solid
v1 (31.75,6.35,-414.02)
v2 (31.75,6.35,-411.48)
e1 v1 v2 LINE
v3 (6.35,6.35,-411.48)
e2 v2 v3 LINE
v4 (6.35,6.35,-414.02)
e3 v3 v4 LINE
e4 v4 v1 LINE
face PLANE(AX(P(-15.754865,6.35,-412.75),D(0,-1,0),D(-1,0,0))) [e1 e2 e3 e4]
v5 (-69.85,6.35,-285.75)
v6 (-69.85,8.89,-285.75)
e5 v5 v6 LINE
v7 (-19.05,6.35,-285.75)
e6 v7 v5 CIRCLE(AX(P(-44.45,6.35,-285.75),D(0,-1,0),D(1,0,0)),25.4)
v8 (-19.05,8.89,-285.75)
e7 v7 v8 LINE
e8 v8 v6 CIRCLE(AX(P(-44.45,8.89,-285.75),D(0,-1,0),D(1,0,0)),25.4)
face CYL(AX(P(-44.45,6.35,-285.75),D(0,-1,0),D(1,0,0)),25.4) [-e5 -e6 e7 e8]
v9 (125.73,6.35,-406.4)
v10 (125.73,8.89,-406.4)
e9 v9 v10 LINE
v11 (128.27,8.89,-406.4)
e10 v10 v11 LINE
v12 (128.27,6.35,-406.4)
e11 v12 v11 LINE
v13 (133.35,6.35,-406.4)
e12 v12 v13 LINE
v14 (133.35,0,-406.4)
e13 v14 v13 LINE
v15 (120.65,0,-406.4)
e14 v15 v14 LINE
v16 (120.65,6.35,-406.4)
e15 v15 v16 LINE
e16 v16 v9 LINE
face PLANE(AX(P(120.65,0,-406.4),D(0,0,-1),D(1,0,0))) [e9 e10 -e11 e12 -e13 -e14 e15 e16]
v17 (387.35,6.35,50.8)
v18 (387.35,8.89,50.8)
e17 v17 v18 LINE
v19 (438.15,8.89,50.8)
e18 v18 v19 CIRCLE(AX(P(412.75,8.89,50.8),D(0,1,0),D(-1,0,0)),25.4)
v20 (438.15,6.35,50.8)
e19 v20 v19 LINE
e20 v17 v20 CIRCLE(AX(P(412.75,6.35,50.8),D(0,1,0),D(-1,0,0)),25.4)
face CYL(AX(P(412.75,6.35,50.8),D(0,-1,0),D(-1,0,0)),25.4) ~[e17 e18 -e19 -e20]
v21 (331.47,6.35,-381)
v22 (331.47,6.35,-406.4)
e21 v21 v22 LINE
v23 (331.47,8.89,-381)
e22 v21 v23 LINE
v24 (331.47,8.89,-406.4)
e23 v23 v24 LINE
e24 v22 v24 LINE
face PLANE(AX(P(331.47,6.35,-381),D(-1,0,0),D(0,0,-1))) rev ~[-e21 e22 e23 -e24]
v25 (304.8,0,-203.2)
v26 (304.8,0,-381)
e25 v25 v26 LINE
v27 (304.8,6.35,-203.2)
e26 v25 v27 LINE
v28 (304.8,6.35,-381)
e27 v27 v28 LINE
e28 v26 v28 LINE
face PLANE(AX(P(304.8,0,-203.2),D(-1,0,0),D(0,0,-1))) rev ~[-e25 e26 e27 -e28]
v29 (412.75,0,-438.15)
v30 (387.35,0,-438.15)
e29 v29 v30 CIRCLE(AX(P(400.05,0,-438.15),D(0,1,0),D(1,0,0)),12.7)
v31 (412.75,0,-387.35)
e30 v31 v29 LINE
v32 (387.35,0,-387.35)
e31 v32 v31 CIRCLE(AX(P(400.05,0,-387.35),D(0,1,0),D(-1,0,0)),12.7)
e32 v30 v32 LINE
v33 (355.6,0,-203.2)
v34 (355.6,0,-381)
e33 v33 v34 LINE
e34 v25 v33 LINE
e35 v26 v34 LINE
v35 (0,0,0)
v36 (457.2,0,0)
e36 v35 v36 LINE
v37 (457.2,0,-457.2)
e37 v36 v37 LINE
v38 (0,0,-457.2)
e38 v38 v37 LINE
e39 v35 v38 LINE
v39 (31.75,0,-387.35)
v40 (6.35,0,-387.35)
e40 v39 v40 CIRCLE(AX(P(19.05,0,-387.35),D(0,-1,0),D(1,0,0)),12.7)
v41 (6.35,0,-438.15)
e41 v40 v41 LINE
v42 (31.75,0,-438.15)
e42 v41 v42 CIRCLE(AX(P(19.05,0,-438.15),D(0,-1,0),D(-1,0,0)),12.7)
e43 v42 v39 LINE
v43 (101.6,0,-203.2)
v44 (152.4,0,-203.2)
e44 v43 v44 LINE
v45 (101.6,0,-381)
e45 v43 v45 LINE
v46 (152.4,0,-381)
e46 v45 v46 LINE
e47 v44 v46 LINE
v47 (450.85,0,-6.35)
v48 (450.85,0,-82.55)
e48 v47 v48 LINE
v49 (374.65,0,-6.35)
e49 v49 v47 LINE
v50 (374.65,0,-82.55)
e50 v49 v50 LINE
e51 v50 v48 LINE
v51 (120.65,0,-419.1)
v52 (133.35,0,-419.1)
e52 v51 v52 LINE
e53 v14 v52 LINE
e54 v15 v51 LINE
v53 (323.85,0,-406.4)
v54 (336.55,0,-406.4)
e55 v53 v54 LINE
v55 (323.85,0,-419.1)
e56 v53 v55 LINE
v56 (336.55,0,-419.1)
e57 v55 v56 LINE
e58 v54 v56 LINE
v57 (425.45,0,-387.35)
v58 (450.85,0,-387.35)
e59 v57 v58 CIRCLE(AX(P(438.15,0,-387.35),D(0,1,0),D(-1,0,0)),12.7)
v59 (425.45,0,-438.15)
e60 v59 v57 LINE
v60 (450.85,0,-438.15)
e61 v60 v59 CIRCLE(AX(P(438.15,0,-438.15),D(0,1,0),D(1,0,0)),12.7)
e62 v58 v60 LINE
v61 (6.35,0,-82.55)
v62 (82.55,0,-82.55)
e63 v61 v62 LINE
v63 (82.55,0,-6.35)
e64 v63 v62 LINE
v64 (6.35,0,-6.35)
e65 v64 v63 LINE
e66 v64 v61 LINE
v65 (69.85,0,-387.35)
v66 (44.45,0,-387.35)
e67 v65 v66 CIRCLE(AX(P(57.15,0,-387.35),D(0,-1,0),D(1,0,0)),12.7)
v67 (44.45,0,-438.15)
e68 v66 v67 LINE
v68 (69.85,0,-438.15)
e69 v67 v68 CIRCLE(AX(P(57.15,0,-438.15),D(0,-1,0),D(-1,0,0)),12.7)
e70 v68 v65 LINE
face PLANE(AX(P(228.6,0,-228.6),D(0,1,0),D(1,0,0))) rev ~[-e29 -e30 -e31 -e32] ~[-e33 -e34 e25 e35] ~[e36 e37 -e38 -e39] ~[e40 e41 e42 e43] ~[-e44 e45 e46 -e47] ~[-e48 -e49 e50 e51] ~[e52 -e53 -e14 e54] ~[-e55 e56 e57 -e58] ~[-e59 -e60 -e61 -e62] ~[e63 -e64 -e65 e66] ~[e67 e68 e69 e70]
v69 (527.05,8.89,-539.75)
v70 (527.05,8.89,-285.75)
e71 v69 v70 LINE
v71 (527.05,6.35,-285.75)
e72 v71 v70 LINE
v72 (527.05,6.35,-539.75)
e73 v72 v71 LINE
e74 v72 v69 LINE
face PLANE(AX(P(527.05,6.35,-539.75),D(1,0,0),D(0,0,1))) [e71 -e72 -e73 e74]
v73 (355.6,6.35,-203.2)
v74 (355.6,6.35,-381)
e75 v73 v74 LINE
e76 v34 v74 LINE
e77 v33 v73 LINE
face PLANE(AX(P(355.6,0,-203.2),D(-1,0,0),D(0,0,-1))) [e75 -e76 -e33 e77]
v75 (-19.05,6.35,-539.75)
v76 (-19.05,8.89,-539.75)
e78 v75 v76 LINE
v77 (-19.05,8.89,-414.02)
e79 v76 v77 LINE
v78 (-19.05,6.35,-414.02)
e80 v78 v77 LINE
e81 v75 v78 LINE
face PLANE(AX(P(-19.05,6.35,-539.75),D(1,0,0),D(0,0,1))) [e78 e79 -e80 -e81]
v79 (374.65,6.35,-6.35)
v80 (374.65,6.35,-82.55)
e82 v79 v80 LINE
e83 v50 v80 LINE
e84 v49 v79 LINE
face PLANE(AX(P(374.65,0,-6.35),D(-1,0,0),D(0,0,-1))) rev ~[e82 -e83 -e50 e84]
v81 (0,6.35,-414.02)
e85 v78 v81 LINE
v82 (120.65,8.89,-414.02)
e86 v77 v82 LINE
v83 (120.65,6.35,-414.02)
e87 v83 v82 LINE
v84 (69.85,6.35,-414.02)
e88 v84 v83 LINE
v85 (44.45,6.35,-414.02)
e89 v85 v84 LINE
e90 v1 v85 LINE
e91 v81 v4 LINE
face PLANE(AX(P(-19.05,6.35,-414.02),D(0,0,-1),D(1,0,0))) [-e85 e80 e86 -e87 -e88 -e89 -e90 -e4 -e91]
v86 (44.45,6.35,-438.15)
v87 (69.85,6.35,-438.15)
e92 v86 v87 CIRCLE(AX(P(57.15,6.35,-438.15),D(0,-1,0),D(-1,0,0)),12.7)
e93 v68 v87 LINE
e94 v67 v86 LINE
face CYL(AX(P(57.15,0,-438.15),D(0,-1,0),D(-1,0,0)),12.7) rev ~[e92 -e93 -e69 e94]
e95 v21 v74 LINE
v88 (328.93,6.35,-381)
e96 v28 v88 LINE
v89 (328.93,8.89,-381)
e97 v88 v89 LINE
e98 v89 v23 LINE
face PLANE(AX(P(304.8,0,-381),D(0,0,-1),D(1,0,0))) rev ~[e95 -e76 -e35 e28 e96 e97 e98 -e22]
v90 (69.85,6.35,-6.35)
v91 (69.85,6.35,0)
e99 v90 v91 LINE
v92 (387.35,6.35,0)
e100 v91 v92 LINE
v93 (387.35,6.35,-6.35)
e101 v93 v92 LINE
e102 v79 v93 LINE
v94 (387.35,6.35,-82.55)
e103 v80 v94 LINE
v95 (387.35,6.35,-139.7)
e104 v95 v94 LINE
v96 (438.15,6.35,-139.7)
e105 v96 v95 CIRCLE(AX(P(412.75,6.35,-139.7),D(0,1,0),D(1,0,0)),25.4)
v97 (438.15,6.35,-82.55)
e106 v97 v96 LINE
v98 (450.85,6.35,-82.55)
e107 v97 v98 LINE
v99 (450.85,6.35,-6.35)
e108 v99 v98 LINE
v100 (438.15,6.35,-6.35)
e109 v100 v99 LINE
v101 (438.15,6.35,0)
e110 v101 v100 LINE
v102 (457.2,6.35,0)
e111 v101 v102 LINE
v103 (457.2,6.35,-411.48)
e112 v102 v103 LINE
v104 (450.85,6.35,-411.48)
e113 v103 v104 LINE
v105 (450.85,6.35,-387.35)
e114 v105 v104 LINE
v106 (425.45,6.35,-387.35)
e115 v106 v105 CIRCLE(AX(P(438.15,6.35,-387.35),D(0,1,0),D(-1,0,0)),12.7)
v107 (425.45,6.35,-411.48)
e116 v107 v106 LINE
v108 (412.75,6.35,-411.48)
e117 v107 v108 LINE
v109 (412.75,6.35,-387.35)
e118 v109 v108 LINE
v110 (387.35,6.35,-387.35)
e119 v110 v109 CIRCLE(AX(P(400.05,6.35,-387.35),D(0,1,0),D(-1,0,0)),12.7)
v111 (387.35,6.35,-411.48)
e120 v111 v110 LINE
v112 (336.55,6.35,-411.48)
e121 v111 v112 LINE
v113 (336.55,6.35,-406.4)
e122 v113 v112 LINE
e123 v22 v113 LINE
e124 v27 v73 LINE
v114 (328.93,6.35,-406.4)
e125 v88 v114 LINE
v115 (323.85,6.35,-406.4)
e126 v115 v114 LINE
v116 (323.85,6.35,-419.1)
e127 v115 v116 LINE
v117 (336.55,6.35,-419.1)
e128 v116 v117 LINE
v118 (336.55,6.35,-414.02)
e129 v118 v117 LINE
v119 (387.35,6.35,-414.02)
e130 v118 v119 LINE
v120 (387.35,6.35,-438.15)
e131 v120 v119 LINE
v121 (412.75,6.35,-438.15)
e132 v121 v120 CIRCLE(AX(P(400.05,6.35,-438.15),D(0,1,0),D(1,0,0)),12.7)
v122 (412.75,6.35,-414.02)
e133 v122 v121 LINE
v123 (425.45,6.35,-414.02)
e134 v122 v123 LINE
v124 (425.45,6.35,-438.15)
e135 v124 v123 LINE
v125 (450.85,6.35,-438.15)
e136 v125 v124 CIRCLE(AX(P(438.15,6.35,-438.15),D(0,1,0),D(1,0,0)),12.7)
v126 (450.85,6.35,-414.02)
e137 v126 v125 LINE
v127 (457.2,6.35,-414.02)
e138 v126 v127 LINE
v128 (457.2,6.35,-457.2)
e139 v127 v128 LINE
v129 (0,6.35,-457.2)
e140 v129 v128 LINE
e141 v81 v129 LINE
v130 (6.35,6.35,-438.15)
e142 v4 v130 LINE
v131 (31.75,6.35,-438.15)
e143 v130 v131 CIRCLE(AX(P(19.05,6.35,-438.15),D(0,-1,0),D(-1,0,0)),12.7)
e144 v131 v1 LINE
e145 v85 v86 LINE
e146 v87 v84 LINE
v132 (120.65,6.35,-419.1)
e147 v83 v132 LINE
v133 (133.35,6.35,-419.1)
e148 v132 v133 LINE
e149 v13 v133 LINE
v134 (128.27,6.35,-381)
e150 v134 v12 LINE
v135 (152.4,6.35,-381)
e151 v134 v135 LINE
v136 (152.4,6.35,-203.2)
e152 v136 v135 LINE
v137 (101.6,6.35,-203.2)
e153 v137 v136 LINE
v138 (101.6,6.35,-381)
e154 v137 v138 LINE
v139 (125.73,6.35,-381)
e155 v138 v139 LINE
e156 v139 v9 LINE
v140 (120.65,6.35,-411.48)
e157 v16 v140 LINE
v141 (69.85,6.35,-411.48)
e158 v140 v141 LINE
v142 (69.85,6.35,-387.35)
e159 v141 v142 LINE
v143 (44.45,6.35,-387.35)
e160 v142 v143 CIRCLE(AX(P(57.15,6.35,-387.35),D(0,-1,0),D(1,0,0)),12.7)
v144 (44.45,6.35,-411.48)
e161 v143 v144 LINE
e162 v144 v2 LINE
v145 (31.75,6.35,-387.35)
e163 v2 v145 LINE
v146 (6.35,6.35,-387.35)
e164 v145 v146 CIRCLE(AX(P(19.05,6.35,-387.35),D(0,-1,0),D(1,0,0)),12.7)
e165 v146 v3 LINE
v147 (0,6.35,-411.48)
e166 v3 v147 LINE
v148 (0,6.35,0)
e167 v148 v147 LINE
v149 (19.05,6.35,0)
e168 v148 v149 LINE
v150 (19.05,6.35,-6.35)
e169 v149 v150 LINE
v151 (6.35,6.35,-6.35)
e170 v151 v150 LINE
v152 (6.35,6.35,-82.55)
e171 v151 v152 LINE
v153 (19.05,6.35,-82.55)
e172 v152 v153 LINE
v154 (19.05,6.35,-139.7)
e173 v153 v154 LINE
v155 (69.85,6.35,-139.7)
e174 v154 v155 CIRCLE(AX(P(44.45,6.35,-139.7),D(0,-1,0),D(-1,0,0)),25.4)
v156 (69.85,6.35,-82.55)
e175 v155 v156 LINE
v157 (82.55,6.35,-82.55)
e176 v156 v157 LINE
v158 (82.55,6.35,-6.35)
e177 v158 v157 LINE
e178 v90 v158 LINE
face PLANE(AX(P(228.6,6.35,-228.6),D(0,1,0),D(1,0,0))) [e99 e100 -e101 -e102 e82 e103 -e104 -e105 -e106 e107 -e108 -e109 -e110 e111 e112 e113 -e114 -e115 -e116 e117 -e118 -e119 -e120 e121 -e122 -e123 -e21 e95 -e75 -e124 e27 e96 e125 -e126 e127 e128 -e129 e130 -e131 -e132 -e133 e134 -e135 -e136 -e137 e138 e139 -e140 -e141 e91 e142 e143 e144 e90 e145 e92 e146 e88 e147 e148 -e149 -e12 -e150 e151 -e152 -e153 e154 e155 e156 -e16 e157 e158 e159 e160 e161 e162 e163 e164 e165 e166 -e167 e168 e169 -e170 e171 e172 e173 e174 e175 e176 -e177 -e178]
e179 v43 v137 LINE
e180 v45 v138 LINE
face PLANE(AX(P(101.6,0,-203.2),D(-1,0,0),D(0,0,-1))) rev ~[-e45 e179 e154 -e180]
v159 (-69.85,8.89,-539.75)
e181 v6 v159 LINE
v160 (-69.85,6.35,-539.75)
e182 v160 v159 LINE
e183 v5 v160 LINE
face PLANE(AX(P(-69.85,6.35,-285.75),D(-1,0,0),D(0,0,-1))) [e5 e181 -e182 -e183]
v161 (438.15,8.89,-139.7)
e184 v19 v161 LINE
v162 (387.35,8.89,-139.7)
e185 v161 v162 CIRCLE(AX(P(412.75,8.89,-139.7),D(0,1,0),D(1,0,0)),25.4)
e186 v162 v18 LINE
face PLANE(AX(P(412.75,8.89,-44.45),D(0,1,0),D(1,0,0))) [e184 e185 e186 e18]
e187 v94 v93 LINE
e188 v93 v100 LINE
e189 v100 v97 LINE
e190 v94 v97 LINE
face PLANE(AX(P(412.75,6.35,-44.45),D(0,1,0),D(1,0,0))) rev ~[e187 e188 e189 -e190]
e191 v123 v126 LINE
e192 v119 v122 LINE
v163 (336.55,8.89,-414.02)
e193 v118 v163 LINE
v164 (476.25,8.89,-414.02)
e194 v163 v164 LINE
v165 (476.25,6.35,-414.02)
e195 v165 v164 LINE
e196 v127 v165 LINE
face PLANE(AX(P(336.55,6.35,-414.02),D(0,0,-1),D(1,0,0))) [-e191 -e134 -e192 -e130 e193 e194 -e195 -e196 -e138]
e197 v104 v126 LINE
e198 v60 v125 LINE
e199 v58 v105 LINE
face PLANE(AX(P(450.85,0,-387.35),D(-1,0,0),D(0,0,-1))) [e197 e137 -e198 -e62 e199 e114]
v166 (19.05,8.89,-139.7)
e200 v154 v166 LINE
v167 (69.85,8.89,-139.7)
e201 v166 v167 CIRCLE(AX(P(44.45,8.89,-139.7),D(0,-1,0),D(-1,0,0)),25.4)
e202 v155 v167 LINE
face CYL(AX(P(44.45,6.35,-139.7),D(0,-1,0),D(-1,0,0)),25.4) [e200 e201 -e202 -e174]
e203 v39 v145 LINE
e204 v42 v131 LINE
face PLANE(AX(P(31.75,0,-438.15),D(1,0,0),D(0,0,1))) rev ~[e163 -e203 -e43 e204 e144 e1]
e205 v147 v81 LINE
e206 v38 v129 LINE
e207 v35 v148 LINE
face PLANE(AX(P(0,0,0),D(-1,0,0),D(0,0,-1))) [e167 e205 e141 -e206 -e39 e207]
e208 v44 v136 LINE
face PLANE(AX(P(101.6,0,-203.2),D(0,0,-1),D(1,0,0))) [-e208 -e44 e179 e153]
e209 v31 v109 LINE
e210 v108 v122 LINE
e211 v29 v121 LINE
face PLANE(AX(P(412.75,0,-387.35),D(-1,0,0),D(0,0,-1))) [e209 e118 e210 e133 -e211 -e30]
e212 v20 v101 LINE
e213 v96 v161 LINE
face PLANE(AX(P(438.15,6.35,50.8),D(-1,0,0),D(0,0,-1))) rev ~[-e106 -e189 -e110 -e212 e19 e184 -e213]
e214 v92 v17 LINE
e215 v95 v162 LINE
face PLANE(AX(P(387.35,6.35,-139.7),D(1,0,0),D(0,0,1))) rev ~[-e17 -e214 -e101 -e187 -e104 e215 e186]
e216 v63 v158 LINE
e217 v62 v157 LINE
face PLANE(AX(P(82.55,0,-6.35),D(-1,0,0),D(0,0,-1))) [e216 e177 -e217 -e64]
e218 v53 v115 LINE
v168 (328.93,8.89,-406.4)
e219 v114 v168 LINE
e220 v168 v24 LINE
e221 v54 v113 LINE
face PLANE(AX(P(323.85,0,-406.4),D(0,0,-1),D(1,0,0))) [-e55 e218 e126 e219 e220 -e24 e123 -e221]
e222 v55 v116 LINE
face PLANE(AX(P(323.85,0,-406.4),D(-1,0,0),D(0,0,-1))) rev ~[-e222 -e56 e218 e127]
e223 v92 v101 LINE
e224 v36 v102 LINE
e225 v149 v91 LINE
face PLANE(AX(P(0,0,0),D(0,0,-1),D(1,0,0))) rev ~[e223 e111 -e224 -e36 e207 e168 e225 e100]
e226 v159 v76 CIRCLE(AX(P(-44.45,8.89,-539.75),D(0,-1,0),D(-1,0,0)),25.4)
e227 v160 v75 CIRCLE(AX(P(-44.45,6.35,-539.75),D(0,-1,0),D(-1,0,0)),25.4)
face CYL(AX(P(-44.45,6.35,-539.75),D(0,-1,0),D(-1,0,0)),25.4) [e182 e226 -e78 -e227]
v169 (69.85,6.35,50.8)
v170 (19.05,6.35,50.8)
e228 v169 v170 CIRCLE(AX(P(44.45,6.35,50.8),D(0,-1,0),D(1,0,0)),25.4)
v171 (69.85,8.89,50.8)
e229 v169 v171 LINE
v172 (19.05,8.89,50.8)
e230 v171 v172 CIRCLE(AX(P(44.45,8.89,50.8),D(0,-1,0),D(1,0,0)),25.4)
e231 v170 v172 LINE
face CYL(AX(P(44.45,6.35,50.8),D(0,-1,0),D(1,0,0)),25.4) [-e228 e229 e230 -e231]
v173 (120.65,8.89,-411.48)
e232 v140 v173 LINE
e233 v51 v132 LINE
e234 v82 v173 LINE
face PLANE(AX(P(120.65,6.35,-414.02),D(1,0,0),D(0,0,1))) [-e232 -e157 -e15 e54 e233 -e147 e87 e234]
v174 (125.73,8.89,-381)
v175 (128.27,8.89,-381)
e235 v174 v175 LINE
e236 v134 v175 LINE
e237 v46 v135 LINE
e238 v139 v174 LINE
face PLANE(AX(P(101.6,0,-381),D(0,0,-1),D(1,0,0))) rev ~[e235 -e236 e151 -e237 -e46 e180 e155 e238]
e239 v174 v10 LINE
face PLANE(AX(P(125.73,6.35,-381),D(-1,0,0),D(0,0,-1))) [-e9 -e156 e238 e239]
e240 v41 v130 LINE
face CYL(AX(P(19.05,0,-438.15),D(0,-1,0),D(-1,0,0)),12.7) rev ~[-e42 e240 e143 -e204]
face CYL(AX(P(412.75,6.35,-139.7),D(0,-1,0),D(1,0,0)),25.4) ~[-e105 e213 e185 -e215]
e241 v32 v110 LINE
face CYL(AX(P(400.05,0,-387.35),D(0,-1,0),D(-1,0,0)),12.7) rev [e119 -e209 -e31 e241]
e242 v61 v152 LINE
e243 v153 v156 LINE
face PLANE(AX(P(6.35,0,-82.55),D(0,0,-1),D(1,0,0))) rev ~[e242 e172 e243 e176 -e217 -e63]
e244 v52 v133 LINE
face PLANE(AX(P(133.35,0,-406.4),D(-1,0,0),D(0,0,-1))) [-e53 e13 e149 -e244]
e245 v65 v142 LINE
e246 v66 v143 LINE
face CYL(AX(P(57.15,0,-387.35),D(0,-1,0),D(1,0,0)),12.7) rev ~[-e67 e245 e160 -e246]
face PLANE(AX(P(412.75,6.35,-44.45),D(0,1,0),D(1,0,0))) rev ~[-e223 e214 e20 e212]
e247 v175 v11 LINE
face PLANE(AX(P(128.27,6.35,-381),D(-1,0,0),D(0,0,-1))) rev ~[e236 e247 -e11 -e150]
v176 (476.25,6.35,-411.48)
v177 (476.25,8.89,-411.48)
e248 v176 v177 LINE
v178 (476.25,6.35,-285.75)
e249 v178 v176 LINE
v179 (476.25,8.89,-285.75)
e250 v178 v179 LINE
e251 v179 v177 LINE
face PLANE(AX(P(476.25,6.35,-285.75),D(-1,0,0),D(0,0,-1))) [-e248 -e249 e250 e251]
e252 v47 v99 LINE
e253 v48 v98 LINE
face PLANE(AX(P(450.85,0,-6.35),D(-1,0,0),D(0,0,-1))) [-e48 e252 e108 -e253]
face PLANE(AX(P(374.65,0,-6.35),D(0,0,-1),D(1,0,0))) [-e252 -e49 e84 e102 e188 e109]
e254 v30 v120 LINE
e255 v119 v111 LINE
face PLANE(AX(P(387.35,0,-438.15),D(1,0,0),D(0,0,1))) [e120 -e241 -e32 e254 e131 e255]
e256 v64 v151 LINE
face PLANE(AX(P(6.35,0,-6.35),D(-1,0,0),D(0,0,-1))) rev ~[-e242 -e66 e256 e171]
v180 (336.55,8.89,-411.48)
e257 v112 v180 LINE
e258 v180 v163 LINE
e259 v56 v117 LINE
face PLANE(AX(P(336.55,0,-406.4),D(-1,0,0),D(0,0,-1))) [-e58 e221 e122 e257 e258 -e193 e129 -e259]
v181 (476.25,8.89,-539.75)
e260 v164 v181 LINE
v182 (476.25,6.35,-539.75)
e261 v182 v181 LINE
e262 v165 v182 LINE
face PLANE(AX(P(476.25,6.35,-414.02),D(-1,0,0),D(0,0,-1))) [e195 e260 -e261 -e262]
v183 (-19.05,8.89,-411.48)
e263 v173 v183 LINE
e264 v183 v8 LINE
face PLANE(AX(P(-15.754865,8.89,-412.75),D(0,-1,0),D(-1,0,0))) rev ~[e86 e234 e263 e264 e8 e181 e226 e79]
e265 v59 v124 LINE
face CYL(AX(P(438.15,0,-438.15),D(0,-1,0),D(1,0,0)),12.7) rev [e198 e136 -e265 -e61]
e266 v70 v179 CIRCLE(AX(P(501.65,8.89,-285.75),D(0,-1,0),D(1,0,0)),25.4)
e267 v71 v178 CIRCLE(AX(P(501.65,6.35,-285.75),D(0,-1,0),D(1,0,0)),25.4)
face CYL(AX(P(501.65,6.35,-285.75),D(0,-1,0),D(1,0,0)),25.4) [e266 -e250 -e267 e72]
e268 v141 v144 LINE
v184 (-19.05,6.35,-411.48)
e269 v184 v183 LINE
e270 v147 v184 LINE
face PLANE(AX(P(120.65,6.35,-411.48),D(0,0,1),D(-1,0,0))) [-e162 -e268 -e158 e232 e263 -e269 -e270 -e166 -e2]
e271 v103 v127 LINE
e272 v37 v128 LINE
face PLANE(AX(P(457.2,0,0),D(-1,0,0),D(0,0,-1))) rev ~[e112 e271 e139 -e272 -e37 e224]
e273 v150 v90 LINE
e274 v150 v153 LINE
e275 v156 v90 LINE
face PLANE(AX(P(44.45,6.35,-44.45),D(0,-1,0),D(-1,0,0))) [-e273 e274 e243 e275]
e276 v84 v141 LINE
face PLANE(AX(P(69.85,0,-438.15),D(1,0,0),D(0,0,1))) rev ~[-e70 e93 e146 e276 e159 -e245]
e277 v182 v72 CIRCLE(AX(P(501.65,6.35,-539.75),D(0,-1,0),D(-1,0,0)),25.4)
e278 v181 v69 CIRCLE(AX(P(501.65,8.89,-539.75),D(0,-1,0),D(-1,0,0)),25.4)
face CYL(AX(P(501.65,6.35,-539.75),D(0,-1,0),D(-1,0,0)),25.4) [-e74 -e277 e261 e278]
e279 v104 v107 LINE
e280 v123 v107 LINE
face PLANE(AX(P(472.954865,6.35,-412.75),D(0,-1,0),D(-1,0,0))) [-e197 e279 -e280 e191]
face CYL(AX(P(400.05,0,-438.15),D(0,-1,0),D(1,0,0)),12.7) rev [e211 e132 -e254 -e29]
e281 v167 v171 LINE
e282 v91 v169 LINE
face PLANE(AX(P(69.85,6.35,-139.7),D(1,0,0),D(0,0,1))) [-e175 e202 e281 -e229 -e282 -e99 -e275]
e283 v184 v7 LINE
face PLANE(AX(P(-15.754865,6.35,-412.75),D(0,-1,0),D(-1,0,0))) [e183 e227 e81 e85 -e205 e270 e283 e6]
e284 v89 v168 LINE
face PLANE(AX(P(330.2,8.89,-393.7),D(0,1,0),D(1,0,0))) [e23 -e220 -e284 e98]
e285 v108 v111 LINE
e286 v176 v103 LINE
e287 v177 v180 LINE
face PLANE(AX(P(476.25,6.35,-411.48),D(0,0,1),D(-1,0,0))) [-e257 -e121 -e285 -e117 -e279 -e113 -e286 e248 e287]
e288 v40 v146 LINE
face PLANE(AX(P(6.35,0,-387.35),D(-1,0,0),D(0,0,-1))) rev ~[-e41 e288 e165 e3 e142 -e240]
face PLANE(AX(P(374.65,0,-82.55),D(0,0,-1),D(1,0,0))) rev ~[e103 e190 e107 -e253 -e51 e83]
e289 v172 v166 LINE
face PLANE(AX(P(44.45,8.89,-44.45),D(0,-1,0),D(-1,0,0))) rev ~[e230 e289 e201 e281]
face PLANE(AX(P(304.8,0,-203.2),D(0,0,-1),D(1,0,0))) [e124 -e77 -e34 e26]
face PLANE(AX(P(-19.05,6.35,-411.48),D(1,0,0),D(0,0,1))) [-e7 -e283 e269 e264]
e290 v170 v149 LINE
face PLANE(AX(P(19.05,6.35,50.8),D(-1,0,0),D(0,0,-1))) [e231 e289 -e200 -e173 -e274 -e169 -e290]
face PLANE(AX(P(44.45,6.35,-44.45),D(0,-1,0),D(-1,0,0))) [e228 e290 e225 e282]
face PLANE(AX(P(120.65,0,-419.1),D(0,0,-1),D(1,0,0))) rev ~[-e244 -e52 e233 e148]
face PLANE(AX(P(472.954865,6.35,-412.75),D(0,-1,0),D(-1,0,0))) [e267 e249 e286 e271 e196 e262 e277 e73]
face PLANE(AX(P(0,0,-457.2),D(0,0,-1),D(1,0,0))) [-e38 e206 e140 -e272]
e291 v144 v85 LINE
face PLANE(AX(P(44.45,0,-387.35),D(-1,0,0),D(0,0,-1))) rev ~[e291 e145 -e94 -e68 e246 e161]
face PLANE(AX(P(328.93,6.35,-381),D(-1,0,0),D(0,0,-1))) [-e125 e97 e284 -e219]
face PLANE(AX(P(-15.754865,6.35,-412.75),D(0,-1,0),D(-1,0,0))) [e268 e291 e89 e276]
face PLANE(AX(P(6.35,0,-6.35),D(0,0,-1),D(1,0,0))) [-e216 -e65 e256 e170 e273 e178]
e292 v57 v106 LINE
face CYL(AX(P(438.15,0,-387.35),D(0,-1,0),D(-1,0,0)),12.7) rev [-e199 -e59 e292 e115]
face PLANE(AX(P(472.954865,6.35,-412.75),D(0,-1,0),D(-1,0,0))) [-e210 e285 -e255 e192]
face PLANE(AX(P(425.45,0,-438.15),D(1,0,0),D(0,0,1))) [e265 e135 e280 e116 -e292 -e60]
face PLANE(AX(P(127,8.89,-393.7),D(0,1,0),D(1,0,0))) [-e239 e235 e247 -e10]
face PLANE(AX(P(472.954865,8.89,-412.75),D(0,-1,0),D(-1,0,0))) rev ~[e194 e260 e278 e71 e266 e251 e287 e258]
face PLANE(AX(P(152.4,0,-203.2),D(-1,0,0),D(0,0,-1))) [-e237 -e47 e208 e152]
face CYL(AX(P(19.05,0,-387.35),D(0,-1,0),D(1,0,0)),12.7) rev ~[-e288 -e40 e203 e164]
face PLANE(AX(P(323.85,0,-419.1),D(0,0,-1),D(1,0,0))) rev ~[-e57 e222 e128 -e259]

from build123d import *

# Parameters (mm, degrees)
SKETCH2_W           = 457.2
SKETCH2_H           = 457.2
SKETCH2_W_2         = 12.7
SKETCH2_H_2         = 12.7
SKETCH2_W_3         = 50.8
SKETCH2_H_3         = 177.8
SKETCH2_W_4         = 76.2
SKETCH2_H_4         = 76.2
BOSS_EXTRUDE1_DEPTH = 6.35
SKETCH3_W           = 2.54
SKETCH3_H           = 25.4
BOSS_EXTRUDE2_DEPTH = 2.54


with BuildPart() as part:
    # Sketch2 → Boss-Extrude1 (new body)
    with BuildSketch(Plane(origin=(0, 0, 0), x_dir=(1, 0, 0), z_dir=(0, 1, 0))):
        with Locations((228.6, 228.6)):
            Rectangle(SKETCH2_W, SKETCH2_H)
        with BuildLine():
            Line((31.75, 438.15), (31.75, 387.35))
            ThreePointArc((31.75, 387.35), (19.05, 374.65), (6.35, 387.35))
            Line((6.35, 387.35), (6.35, 438.15))
            ThreePointArc((6.35, 438.15), (19.05, 450.85), (31.75, 438.15))
        make_face(mode=Mode.SUBTRACT)
        with BuildLine():
            Line((69.85, 438.15), (69.85, 387.35))
            ThreePointArc((69.85, 387.35), (57.15, 374.65), (44.45, 387.35))
            Line((44.45, 387.35), (44.45, 438.15))
            ThreePointArc((44.45, 438.15), (57.15, 450.85), (69.85, 438.15))
        make_face(mode=Mode.SUBTRACT)
        with BuildLine():
            Line((425.45, 438.15), (425.45, 387.35))
            ThreePointArc((425.45, 387.35), (438.15, 374.65), (450.85, 387.35))
            Line((450.85, 387.35), (450.85, 438.15))
            ThreePointArc((450.85, 438.15), (438.15, 450.85), (425.45, 438.15))
        make_face(mode=Mode.SUBTRACT)
        with BuildLine():
            Line((387.35, 438.15), (387.35, 387.35))
            ThreePointArc((387.35, 387.35), (400.05, 374.65), (412.75, 387.35))
            Line((412.75, 387.35), (412.75, 438.15))
            ThreePointArc((412.75, 438.15), (400.05, 450.85), (387.35, 438.15))
        make_face(mode=Mode.SUBTRACT)
        with Locations((330.2, 412.75)):
            Rectangle(SKETCH2_W_2, SKETCH2_H_2, mode=Mode.SUBTRACT)
        with Locations((127, 292.1)):
            Rectangle(SKETCH2_W_3, SKETCH2_H_3, mode=Mode.SUBTRACT)
        with Locations((127, 412.75)):
            Rectangle(SKETCH2_W_2, SKETCH2_H_2, mode=Mode.SUBTRACT)
        with Locations((330.2, 292.1)):
            Rectangle(SKETCH2_W_3, SKETCH2_H_3, mode=Mode.SUBTRACT)
        with Locations((412.75, 44.45)):
            Rectangle(SKETCH2_W_4, SKETCH2_H_4, mode=Mode.SUBTRACT)
        with Locations((44.45, 44.45)):
            Rectangle(SKETCH2_W_4, SKETCH2_H_4, mode=Mode.SUBTRACT)
    extrude(amount=BOSS_EXTRUDE1_DEPTH)

    # Sketch3 → Boss-Extrude2 (add)
    with BuildSketch(Plane(origin=(0, 6.35, 0), x_dir=(1, 0, 0), z_dir=(0, 1, 0))):
        with BuildLine():
            Line((120.65, 411.48), (-19.05, 411.48))
            Line((-19.05, 411.48), (-19.05, 285.75))
            ThreePointArc((-19.05, 285.75), (-44.45, 260.35), (-69.85, 285.75))
            Line((-69.85, 285.75), (-69.85, 539.75))
            ThreePointArc((-69.85, 539.75), (-44.45, 565.15), (-19.05, 539.75))
            Line((-19.05, 539.75), (-19.05, 414.02))
            Line((-19.05, 414.02), (120.65, 414.02))
            Line((120.65, 414.02), (120.65, 411.48))
        make_face()
        with Locations((127, 393.7)):
            Rectangle(SKETCH3_W, SKETCH3_H)
        with Locations((330.2, 393.7)):
            Rectangle(SKETCH3_W, SKETCH3_H)
        with BuildLine():
            Line((336.55, 411.48), (336.55, 414.02))
            Line((336.55, 414.02), (476.25, 414.02))
            Line((476.25, 414.02), (476.25, 539.75))
            ThreePointArc((476.25, 539.75), (501.65, 565.15), (527.05, 539.75))
            Line((527.05, 539.75), (527.05, 285.75))
            ThreePointArc((527.05, 285.75), (501.65, 260.35), (476.25, 285.75))
            Line((476.25, 285.75), (476.25, 411.48))
            Line((476.25, 411.48), (336.55, 411.48))
        make_face()
        with BuildLine():
            Line((69.85, 139.7), (69.85, -50.8))
            ThreePointArc((69.85, -50.8), (44.45, -76.2), (19.05, -50.8))
            Line((19.05, -50.8), (19.05, 139.7))
            ThreePointArc((19.05, 139.7), (44.45, 165.1), (69.85, 139.7))
        make_face()
        with BuildLine():
            Line((387.35, 139.7), (387.35, -50.8))
            ThreePointArc((387.35, -50.8), (412.75, -76.2), (438.15, -50.8))
            Line((438.15, -50.8), (438.15, 139.7))
            ThreePointArc((438.15, 139.7), (412.75, 165.1), (387.35, 139.7))
        make_face()
    extrude(amount=BOSS_EXTRUDE2_DEPTH)


solid = part.part
